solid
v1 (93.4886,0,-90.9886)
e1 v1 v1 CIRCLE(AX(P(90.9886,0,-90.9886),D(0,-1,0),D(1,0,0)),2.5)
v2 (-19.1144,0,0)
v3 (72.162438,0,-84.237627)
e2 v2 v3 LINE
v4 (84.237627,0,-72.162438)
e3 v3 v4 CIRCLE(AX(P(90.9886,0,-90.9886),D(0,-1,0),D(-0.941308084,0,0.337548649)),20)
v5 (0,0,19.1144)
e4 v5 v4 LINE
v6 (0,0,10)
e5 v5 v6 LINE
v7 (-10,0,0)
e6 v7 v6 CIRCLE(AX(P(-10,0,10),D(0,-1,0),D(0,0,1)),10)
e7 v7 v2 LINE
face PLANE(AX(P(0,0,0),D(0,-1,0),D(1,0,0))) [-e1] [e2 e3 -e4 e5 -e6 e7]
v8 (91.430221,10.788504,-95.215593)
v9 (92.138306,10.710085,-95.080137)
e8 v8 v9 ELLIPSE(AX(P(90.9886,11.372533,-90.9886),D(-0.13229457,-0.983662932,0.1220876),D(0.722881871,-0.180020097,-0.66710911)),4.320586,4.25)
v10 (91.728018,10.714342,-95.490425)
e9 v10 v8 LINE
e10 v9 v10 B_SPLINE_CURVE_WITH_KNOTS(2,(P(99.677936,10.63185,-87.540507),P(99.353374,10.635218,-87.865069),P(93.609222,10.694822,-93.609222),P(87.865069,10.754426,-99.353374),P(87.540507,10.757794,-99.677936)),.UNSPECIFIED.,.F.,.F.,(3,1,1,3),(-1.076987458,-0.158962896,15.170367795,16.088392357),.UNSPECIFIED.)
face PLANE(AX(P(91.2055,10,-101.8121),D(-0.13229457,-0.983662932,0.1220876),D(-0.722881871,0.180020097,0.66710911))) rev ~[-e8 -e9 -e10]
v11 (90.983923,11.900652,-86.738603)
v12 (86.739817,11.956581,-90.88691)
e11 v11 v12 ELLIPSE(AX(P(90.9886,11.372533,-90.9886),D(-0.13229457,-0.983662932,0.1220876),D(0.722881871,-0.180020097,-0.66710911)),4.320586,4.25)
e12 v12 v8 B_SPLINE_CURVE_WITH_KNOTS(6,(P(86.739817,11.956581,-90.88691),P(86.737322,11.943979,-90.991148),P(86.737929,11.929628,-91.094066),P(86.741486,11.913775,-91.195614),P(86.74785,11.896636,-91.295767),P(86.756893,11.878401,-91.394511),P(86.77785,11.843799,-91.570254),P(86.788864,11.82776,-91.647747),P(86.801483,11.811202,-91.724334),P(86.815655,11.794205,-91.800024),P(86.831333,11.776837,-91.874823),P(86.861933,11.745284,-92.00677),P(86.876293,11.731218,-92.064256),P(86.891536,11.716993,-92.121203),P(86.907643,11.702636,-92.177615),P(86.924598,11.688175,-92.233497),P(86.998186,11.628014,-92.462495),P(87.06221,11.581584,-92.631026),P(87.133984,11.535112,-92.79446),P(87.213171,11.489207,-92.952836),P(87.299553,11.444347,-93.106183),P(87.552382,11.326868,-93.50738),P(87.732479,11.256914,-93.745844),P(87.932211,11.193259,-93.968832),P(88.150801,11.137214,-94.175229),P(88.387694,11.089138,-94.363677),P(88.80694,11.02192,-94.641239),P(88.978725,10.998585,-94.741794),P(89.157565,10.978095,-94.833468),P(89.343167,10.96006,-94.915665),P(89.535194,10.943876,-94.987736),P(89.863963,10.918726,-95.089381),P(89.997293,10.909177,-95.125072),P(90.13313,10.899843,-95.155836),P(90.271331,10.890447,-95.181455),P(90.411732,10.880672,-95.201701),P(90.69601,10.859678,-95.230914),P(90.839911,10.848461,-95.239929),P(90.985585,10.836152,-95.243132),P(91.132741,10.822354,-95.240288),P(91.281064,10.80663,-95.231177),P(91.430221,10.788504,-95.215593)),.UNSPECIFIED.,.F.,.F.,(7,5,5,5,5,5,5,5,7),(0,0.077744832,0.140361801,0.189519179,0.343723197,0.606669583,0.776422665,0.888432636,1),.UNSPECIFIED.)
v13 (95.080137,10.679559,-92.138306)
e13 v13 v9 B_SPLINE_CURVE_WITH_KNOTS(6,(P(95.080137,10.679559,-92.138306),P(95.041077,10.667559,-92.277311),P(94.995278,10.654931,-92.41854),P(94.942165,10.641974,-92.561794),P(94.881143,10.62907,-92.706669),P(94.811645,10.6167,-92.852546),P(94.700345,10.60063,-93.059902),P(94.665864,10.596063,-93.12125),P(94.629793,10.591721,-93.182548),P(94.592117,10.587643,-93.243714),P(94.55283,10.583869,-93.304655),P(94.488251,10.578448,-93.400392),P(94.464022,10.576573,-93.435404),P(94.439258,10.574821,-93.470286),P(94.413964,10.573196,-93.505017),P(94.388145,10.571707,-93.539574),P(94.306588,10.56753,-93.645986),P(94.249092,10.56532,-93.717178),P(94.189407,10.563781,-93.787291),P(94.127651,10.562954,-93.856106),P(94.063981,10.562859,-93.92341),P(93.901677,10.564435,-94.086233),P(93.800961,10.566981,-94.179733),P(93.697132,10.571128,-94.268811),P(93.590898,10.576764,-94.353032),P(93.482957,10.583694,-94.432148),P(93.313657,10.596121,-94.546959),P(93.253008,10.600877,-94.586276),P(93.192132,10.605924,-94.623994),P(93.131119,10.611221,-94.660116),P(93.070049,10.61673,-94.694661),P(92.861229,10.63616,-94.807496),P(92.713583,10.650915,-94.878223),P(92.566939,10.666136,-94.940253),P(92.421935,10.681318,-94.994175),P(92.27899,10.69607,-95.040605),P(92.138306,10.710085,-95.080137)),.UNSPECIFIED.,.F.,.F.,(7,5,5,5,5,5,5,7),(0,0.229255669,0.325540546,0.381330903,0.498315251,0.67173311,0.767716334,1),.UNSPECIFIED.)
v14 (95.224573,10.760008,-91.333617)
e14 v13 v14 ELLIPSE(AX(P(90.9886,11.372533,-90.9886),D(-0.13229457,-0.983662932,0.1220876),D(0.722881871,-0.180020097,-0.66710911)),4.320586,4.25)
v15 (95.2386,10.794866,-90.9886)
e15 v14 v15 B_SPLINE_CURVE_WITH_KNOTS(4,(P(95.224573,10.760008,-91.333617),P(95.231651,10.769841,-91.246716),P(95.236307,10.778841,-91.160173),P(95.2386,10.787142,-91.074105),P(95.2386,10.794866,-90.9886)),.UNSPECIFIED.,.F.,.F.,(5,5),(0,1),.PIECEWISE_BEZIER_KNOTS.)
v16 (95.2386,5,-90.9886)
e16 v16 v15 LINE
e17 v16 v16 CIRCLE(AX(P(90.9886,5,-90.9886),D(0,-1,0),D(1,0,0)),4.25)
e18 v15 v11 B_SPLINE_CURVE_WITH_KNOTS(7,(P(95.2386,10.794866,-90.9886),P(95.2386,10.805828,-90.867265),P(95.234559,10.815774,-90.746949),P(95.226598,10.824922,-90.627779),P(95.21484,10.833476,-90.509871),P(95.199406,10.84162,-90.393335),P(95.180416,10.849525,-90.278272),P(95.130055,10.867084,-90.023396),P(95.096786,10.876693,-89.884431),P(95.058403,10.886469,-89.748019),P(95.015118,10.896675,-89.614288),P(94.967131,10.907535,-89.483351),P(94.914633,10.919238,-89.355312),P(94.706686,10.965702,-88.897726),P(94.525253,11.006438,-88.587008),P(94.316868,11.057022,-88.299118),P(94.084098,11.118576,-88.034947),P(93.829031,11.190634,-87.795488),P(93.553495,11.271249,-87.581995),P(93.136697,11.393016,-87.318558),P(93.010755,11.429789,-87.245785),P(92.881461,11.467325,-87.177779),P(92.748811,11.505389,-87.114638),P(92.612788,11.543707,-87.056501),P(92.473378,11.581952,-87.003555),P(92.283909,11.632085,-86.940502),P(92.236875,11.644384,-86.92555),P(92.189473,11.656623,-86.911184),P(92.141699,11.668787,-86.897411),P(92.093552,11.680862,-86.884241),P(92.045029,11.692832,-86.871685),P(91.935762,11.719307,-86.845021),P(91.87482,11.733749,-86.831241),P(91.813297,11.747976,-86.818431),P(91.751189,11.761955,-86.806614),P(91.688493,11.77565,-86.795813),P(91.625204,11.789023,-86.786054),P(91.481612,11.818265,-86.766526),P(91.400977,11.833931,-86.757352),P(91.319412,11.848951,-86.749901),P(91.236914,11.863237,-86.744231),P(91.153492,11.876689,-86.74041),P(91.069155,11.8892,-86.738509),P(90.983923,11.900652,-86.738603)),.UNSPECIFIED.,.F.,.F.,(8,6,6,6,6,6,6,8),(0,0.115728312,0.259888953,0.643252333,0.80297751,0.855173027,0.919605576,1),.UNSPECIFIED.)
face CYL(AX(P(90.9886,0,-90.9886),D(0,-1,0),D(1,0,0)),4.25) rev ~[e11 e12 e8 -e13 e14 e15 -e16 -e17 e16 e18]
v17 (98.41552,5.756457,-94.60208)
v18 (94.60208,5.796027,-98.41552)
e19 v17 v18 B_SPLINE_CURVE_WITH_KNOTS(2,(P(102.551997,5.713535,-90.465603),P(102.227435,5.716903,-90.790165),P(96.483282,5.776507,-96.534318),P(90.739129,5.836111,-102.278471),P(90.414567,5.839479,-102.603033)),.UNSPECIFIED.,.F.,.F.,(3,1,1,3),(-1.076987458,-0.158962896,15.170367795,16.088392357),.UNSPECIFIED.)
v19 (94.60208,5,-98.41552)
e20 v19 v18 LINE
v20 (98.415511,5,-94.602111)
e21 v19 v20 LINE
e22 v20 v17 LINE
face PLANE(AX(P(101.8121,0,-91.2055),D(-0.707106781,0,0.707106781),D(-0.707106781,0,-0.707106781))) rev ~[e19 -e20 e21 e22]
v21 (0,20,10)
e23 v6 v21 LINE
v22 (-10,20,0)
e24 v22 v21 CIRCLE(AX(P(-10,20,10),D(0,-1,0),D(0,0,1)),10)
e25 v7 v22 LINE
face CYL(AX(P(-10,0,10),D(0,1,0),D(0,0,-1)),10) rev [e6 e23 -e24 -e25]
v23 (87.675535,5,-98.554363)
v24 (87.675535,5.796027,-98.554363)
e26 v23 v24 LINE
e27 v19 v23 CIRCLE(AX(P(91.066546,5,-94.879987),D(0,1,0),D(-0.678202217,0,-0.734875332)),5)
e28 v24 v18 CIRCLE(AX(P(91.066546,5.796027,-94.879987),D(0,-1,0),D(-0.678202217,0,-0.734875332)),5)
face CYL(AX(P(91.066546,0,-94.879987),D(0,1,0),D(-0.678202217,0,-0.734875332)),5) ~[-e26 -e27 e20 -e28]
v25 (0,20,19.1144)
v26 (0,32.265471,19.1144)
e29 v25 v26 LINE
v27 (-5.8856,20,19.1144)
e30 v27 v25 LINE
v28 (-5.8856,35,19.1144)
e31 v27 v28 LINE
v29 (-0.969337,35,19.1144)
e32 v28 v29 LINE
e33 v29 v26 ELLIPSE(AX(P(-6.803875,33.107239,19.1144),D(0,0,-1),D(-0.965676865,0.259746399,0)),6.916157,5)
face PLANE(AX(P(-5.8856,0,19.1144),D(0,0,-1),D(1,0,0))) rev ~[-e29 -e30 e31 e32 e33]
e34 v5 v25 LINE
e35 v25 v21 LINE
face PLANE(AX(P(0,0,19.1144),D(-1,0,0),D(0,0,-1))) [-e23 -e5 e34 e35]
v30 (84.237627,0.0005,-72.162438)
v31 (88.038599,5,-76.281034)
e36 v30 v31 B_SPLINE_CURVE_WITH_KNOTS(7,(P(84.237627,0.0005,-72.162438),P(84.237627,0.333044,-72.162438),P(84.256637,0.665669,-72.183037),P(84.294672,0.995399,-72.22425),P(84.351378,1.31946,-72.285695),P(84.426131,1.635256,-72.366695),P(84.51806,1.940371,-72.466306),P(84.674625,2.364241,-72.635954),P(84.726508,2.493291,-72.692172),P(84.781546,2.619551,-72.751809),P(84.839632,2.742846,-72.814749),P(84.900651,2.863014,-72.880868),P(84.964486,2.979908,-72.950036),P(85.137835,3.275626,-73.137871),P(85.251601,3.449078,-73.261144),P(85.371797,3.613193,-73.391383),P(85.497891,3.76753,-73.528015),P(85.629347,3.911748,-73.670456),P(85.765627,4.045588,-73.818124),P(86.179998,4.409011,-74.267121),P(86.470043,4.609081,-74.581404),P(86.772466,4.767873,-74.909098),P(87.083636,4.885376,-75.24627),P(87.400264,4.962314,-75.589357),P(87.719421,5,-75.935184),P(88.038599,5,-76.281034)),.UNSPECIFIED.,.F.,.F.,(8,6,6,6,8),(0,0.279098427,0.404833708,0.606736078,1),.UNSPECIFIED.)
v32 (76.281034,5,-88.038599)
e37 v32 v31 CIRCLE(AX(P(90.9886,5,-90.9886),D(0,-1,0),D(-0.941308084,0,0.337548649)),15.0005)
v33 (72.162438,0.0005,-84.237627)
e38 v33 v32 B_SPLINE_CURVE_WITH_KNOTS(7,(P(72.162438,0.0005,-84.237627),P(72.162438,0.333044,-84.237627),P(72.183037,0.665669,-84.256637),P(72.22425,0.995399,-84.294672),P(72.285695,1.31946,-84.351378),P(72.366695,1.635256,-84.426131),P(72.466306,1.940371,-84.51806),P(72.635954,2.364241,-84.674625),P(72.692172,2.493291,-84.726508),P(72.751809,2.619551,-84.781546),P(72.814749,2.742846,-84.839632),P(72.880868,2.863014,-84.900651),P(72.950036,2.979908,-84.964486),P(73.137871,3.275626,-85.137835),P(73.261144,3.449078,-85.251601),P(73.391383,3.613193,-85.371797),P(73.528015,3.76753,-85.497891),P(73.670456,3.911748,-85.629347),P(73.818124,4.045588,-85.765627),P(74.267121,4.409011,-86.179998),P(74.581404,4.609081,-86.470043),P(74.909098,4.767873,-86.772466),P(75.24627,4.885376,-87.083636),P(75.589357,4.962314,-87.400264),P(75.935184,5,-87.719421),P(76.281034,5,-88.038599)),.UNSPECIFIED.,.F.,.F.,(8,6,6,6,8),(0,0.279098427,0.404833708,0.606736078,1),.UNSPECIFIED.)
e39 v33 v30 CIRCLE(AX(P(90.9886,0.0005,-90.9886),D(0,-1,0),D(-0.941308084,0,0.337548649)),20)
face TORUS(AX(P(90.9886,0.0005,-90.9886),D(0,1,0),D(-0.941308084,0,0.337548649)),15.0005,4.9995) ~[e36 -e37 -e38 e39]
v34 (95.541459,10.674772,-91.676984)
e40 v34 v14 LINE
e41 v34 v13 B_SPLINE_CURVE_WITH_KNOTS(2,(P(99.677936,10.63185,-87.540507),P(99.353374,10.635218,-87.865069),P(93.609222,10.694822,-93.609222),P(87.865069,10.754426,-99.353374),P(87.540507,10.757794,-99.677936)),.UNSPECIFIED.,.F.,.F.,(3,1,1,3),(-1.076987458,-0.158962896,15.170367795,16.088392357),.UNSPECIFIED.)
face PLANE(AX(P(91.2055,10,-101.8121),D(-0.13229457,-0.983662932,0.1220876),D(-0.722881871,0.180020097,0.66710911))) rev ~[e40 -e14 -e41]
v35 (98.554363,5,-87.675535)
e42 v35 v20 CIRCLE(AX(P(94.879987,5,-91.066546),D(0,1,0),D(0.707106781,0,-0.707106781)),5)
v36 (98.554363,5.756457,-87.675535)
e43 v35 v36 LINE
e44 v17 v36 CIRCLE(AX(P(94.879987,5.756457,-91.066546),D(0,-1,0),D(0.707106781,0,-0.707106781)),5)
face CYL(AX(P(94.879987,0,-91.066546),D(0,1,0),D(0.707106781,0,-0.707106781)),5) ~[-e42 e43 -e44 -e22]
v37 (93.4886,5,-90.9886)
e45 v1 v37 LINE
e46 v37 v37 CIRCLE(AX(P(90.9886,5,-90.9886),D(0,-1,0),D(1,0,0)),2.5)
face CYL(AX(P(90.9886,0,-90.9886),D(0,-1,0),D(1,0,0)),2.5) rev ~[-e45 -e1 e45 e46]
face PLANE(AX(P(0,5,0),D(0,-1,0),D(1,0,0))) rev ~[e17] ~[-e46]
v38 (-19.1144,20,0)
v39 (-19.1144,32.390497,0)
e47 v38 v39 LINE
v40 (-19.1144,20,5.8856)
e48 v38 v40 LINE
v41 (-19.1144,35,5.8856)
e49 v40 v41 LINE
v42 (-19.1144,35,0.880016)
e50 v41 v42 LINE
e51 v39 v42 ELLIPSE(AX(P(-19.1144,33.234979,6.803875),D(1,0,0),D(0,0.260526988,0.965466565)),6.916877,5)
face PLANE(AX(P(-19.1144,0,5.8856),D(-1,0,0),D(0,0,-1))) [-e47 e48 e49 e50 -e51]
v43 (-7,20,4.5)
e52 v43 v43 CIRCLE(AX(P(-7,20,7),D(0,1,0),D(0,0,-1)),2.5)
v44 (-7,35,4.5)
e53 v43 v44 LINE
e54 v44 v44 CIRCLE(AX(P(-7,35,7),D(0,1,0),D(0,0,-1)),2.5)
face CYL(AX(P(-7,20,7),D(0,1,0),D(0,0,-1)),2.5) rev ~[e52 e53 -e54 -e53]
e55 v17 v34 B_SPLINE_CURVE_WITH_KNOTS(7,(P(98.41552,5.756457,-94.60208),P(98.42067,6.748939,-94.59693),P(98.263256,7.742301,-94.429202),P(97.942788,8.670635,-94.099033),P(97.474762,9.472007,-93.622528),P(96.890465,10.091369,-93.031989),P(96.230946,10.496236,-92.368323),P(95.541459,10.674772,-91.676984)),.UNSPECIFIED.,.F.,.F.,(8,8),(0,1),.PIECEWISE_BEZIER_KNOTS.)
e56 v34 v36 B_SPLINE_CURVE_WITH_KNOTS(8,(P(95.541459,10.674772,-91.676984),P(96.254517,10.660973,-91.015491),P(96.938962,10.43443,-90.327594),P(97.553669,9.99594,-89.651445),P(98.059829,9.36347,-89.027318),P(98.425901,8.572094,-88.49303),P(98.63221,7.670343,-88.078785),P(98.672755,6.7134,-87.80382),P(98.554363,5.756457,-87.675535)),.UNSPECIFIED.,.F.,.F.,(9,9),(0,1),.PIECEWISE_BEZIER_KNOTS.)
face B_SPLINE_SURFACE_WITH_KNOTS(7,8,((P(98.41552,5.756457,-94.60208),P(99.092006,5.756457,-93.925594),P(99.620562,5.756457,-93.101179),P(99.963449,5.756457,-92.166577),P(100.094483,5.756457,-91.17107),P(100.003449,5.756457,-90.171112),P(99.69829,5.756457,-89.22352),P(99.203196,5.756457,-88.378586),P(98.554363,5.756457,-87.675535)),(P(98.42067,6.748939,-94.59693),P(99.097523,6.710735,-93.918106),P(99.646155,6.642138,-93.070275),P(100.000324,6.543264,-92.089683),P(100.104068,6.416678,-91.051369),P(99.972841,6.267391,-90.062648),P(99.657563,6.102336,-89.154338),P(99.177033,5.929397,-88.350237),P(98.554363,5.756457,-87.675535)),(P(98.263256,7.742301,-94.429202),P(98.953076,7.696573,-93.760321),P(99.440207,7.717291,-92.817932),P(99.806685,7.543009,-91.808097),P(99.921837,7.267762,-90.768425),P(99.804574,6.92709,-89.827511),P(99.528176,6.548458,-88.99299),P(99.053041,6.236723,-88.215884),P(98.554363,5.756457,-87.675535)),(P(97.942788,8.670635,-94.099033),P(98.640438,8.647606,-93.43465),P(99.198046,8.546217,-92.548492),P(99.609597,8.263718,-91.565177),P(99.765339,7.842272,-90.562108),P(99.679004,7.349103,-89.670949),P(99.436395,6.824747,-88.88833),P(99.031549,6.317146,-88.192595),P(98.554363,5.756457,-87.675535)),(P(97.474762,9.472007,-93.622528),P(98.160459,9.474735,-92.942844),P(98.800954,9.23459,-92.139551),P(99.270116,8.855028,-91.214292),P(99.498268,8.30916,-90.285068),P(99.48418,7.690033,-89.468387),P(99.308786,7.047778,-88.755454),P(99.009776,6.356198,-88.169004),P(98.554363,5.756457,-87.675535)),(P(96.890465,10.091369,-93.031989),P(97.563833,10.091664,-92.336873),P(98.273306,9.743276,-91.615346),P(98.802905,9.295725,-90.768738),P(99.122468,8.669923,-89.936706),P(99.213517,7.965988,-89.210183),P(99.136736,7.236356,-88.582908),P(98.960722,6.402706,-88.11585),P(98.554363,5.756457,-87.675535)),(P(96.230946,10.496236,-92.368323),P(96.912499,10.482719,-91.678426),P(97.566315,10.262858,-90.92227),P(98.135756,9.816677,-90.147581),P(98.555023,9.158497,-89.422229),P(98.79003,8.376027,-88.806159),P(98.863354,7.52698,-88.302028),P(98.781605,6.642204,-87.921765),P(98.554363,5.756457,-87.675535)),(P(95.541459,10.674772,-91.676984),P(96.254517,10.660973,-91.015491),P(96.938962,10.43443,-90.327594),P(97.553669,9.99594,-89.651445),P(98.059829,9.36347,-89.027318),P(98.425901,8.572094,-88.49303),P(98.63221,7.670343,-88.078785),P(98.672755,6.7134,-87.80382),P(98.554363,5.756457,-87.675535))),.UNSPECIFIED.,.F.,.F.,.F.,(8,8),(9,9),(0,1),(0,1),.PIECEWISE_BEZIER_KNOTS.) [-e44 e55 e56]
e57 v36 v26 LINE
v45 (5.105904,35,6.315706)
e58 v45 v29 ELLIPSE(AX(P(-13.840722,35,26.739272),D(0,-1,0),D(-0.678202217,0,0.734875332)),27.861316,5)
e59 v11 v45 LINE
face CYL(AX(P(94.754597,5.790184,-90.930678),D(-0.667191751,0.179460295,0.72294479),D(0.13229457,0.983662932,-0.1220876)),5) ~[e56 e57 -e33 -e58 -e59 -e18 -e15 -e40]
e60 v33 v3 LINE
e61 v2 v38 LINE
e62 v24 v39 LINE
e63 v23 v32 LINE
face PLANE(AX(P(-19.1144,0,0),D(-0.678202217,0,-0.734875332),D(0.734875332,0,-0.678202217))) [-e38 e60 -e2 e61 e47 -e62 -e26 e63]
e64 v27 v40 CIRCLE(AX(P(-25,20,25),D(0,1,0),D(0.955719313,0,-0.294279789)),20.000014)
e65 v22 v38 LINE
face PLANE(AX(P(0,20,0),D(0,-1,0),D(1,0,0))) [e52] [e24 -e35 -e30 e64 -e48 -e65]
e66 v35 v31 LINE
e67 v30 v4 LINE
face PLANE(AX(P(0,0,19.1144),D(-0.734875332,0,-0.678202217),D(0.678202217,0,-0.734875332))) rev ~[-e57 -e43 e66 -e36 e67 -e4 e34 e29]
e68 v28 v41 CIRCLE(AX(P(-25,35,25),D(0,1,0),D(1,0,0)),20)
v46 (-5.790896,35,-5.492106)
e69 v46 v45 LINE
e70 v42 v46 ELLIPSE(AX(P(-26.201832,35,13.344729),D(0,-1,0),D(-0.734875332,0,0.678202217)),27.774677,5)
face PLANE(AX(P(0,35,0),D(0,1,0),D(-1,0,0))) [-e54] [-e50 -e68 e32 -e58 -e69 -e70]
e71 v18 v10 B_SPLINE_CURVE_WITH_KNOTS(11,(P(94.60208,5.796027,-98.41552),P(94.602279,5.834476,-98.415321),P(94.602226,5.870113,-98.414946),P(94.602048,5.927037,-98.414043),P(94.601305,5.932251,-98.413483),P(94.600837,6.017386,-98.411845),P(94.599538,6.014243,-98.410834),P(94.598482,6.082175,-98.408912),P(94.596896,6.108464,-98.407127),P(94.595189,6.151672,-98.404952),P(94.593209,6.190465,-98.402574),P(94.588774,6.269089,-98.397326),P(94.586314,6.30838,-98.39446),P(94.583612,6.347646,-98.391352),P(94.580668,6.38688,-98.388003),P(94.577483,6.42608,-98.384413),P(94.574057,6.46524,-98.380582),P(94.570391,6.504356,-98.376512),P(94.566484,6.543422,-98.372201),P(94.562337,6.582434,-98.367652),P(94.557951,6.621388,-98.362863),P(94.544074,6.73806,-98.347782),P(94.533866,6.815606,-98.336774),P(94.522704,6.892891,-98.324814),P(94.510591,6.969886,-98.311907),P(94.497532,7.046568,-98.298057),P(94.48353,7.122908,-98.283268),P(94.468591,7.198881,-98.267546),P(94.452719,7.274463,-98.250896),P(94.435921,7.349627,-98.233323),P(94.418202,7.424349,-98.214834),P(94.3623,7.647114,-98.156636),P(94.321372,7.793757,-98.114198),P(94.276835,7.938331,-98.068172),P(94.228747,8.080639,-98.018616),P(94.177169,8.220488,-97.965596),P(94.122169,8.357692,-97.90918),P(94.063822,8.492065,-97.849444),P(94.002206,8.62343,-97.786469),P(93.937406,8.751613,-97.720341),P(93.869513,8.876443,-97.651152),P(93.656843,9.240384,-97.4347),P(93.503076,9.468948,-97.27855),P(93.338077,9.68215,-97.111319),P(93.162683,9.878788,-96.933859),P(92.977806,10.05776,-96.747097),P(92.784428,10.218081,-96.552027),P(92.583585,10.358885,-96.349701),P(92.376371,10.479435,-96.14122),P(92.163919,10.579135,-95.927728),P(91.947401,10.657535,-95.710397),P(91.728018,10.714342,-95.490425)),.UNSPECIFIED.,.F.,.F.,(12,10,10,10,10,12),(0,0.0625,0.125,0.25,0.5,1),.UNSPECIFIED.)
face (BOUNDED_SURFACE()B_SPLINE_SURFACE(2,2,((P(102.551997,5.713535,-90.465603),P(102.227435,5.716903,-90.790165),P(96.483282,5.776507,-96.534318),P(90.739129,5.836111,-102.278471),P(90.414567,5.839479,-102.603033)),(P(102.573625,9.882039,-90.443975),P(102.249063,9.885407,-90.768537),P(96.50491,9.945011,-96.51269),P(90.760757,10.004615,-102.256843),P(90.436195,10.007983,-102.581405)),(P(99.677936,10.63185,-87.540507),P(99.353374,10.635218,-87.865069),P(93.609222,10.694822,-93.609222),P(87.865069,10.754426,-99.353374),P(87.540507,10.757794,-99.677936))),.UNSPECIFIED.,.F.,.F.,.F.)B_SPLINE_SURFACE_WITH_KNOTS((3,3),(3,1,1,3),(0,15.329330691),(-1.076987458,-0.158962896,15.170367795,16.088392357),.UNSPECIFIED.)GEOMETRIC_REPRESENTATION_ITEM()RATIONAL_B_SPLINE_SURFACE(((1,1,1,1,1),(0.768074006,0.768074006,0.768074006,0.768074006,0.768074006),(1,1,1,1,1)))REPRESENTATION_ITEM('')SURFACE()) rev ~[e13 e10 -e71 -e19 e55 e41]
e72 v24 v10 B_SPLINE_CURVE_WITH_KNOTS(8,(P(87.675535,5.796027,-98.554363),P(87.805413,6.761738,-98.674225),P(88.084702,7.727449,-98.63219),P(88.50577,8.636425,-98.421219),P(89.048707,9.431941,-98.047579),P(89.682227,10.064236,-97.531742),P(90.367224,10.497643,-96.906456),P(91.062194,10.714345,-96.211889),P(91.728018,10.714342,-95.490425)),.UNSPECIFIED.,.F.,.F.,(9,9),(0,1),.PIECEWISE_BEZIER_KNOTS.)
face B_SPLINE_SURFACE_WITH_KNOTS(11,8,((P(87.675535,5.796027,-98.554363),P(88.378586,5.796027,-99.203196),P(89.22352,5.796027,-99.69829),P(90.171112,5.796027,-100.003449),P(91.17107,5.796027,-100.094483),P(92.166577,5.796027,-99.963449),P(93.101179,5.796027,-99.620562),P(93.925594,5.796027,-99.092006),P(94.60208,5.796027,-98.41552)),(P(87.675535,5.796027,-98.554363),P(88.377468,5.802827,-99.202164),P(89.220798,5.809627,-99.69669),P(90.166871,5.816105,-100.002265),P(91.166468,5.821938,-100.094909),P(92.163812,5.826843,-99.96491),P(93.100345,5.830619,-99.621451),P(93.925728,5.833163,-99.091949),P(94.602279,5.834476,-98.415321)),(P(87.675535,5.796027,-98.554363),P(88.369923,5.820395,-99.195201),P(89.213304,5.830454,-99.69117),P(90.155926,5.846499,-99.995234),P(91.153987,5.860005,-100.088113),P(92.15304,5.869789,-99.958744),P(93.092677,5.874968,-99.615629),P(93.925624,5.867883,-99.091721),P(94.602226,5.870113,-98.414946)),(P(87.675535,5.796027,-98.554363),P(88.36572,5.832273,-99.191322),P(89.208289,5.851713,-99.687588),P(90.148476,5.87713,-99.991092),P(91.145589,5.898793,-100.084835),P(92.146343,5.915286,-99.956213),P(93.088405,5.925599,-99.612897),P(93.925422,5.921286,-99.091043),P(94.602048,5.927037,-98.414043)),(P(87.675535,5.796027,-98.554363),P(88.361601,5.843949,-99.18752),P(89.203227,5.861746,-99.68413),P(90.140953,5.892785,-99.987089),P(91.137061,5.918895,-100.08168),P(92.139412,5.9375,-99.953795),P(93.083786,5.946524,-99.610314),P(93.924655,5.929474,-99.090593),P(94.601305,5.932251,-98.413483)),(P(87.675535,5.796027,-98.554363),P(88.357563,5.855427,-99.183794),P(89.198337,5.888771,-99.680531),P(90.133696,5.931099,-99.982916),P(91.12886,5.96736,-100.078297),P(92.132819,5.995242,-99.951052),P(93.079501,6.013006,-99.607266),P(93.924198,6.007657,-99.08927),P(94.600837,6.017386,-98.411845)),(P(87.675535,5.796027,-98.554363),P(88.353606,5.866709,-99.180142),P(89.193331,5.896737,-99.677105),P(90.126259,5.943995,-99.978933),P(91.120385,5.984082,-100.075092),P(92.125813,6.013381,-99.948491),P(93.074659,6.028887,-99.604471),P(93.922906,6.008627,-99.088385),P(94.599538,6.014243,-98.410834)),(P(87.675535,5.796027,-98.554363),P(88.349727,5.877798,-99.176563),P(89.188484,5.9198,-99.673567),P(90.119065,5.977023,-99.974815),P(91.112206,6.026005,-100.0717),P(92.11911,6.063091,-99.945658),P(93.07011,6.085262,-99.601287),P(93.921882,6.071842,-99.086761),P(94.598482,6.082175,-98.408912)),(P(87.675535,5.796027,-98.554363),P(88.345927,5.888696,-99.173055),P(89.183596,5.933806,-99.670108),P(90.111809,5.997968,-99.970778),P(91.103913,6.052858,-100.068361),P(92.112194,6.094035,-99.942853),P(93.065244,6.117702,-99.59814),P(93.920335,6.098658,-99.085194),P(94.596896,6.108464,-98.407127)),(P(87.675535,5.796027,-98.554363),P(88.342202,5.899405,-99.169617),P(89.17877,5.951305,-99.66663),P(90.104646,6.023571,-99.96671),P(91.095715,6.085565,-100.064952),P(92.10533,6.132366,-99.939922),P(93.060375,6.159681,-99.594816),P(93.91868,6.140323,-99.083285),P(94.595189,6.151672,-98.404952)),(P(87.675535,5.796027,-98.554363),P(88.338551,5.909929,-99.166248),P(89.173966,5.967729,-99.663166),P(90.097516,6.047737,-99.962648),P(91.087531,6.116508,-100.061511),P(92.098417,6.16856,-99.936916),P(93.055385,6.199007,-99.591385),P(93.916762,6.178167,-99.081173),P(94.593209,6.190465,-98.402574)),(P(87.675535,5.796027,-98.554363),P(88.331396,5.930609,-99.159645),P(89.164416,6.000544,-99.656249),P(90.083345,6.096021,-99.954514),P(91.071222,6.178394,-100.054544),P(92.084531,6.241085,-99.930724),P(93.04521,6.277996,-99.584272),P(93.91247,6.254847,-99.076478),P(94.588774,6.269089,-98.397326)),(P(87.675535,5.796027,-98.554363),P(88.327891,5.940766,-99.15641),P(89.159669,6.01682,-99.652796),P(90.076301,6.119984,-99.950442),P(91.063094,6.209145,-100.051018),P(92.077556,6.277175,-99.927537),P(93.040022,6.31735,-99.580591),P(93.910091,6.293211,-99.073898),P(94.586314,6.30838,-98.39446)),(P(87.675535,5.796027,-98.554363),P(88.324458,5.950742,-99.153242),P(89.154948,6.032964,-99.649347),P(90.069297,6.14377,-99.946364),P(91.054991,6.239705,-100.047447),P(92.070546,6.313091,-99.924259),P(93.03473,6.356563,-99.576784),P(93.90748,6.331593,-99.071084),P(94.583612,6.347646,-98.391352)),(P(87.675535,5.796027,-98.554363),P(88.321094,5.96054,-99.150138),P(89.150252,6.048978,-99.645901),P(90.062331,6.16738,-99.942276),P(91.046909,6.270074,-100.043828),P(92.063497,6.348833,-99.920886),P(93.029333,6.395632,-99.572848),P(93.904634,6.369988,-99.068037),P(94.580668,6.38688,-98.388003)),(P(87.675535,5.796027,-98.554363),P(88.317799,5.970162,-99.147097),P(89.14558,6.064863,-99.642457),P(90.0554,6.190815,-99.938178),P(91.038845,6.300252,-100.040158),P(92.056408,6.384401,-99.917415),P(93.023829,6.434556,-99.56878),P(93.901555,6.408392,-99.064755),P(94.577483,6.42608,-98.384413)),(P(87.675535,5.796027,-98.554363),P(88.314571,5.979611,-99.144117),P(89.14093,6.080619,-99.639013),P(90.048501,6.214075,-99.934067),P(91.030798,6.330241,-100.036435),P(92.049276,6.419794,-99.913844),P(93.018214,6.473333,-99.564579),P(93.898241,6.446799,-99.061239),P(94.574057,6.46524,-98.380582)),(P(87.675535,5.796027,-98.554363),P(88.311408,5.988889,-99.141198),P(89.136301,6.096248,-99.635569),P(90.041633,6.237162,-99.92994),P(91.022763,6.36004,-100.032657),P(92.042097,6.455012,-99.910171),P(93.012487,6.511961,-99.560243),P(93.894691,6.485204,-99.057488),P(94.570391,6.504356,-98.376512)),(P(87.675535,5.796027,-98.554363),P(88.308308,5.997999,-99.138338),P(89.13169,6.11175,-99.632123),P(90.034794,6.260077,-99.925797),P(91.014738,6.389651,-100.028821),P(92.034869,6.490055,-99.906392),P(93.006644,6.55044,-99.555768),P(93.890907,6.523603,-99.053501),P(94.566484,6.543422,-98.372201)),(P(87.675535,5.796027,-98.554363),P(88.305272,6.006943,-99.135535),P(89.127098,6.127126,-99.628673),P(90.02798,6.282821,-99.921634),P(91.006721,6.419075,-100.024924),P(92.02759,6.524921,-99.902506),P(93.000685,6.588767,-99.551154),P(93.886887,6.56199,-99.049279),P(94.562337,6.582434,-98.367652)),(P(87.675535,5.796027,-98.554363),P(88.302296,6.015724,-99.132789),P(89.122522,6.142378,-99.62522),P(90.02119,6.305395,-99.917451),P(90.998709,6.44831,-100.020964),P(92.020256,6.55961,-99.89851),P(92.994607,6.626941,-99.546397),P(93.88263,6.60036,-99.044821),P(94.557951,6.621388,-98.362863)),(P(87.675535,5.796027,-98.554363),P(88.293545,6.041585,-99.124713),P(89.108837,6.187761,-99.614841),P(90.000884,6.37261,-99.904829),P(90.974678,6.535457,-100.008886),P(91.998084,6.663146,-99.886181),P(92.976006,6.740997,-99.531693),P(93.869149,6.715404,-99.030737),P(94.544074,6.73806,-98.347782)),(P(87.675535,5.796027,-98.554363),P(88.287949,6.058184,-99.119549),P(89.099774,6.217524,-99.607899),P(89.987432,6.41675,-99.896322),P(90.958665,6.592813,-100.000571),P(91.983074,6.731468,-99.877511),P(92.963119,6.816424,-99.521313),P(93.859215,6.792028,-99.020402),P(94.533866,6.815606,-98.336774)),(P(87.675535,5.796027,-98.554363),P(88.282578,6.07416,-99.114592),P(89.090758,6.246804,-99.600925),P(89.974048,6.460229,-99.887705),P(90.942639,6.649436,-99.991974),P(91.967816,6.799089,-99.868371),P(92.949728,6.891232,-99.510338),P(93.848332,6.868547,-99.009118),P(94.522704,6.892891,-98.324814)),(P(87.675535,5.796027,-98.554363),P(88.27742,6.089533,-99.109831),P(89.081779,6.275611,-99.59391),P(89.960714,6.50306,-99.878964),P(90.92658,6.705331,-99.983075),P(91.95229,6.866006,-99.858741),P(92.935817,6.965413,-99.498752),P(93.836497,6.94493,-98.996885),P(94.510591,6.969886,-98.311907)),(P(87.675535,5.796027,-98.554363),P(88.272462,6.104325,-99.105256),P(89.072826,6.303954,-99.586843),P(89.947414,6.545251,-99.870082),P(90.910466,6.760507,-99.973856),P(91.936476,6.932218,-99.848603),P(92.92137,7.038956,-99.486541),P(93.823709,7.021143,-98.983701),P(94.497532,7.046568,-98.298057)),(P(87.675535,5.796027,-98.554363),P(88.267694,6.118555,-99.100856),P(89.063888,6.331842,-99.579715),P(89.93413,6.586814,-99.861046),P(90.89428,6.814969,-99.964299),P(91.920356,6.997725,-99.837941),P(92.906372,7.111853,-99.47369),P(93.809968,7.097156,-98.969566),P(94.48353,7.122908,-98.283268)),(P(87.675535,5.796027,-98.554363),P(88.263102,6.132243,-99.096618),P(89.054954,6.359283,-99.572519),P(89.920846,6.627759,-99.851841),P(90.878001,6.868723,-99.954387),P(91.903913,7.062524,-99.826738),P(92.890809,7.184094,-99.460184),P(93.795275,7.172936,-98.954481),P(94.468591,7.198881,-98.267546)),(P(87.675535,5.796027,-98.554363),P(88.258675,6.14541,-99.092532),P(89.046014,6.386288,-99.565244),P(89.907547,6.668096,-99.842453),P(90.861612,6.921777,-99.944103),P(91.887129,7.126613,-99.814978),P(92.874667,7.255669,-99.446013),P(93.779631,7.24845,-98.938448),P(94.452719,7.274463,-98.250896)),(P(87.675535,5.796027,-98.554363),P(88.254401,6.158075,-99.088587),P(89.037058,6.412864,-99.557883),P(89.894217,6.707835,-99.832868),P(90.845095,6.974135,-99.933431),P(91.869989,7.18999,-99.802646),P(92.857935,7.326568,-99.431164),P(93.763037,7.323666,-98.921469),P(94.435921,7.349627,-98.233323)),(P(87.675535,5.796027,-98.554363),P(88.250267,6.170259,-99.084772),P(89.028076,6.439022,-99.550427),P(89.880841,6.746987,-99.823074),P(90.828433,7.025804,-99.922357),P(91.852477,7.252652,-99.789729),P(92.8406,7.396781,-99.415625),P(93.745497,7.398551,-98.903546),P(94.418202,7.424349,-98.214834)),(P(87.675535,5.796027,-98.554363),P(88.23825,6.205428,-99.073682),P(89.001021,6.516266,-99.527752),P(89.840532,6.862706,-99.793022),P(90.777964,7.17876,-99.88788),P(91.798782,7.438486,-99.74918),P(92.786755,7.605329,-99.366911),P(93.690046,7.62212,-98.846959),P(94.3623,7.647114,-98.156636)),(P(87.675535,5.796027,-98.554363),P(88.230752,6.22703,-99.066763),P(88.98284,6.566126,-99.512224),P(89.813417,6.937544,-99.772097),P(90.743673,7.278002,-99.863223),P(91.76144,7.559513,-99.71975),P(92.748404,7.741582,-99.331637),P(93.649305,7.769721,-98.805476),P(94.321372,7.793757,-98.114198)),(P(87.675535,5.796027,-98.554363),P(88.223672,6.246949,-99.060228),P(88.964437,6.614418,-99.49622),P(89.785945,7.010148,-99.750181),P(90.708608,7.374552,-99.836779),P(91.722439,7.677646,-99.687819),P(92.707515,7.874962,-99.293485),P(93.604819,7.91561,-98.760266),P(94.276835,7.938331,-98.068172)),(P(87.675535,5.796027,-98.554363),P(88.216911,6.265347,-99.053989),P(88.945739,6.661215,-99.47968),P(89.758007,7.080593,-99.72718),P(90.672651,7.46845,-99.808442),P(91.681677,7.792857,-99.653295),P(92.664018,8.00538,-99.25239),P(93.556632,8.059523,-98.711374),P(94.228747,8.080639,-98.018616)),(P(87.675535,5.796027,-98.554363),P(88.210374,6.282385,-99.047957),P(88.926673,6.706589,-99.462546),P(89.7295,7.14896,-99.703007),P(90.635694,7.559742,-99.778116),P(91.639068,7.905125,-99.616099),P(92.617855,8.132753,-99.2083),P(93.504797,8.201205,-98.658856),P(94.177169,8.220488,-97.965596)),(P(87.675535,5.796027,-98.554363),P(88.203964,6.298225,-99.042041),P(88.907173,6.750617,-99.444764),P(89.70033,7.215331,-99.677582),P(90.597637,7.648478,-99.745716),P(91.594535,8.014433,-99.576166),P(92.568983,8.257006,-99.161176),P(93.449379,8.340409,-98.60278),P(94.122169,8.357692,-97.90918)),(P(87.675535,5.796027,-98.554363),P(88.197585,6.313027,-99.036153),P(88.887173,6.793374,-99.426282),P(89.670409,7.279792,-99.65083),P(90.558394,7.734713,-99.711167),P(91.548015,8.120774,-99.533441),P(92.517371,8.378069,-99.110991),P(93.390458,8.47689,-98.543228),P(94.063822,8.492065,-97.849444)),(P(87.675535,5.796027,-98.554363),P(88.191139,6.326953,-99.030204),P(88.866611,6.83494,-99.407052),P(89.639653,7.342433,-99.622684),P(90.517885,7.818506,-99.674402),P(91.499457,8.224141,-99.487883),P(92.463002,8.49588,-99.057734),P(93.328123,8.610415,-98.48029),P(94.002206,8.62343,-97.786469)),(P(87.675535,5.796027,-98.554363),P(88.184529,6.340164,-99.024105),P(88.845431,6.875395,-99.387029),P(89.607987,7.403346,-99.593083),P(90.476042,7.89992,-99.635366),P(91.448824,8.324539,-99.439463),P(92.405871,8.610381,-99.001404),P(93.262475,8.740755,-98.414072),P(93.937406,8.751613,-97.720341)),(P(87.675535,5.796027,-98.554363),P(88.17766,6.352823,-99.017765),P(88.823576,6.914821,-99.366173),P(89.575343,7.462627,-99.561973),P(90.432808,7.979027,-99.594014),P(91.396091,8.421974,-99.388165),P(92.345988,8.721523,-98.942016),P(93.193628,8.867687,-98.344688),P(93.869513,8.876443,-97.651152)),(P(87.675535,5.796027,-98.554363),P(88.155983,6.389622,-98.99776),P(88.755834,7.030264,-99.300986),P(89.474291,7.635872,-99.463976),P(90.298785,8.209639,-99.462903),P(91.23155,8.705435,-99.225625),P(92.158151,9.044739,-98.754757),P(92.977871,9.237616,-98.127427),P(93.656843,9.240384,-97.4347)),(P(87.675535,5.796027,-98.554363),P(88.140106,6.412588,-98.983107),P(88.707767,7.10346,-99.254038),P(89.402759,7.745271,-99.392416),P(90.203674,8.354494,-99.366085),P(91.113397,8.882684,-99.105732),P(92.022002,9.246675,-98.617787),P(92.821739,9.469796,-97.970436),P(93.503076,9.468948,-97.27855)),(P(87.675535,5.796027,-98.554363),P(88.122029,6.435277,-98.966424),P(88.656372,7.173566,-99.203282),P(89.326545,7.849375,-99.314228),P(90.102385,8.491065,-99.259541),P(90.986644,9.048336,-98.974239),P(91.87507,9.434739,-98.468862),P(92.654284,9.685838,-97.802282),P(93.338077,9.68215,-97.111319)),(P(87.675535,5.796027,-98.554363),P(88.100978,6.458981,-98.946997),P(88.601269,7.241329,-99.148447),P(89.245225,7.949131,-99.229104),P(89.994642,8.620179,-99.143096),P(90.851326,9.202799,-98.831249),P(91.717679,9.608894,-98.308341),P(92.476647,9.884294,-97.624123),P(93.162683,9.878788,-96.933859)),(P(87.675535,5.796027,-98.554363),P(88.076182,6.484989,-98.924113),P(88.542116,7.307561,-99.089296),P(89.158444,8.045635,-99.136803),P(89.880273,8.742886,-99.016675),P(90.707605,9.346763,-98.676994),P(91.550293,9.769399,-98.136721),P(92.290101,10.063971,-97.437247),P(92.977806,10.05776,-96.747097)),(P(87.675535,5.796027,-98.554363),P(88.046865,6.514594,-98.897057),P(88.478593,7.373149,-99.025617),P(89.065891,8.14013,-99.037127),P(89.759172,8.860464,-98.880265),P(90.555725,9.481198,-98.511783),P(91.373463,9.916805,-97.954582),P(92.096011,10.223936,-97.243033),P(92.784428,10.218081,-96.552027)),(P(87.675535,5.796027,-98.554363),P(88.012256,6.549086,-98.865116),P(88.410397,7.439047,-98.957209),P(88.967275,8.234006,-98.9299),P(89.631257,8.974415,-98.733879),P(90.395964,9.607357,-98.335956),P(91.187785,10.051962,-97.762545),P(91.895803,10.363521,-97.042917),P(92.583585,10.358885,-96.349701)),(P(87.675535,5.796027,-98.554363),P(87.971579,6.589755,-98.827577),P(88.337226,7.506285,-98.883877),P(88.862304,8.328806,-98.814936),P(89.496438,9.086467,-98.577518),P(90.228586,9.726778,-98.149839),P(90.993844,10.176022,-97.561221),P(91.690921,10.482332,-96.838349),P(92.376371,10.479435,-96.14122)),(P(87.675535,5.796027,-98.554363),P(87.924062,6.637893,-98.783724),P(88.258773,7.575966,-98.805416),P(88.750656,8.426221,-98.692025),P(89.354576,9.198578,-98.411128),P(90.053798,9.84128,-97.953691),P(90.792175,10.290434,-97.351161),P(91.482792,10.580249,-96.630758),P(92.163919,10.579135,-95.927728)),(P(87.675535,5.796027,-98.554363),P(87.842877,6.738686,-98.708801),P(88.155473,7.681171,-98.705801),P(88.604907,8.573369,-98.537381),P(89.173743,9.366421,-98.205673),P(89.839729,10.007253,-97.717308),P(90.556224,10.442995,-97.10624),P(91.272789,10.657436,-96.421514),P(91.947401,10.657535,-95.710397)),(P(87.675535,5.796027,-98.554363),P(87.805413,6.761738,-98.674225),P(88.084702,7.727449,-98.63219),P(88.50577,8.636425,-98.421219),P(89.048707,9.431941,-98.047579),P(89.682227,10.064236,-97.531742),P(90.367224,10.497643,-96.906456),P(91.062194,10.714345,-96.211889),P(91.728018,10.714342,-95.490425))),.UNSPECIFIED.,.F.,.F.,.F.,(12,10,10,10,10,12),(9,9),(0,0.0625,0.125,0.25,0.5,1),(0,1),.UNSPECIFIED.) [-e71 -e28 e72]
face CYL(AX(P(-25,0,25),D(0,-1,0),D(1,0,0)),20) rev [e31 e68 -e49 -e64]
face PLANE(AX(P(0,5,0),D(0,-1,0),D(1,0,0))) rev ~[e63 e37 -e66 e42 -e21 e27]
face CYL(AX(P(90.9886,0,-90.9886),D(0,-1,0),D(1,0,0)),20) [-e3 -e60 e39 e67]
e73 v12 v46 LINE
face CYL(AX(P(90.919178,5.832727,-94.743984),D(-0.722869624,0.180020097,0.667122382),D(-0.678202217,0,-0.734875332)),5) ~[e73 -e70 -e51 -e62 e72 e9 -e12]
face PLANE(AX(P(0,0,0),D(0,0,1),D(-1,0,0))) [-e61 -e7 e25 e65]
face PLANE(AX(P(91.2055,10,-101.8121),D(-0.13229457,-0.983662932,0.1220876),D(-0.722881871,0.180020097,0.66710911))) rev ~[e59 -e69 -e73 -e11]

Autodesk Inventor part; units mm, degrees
ref_plane "YZ Plane" through (0, 0, 0) normal (1, 0, 0) x (0, 1, 0)
ref_plane "XZ Plane" through (0, 0, 0) normal (0, 1, 0) x (-1, 0, 0)
ref_plane "XY Plane" through (0, 0, 0) normal (0, 0, 1) x (1, 0, 0)
sketch "Sketch1" plane through (0, 0, 0) normal (0, 1, 0) x (-1, 0, 0)
  arc A0 (5, 25) -> (25, 5) centre (25, 25) ccw
  circle A1 centre (25, 25) radius 20
  arc A2 (0, 10) -> (10, 0) centre (10, 10) ccw
  circle A3 centre (10, 10) radius 10
  line L0 (5.8856, 19.1144) -> (0, 19.1144)
  line L1 (0, 90) -> (0, 10)
  line L2 (19.1144, 5.8856) -> (19.1144, 0)
  line L3 (10, 0) -> (190, 0)
  line L4 (0, 19.1144) -> (19.1144, 19.1144)
  line L5 (19.1144, 19.1144) -> (19.1144, 0)
  line L6 (19.1144, 0) -> (0, 0)
  line L7 (0, 0) -> (0, 19.1144)
  arc A4 (45, 75) -> (5, 75) centre (25, 75) ccw
  circle A5 centre (25, 75) radius 20
  line L8 (25, 75) -> (25, 25)
  line L9 (25, 75) -> (35, 75)
  line L10 (35, 75) -> (35, 50)
  line L11 (35, 50) -> (25, 50)
  line L12 (25, 50) -> (25, 75)
  circle A6 centre (25, 75) radius 20
  line L13 (19.1144, 80.8856) -> (19.1144, 100)
  line L14 (0, 80.8856) -> (19.1144, 80.8856)
  line L15 (0, 100) -> (0, 80.8856)
  line L16 (19.1144, 100) -> (0, 100)
  circle A7 centre (10, 90) radius 10
  line L17 (19.1144, 0) -> (169.1144, 0) construction
  line L18 (-101.8121, -91.2055) -> (-91.2055, -101.8121)
  line L19 (0, 0) -> (-96.5088, -96.5088)
  line L20 (-96.5088, -96.5088) -> (-91.2055, -101.8121)
  line L21 (-91.2055, -101.8121) -> (-101.8121, -91.2055)
  line L22 (-91.2055, -101.8121) -> (10.6066, 0)
  line L23 (-101.8121, -91.2055) -> (0, 10.6066)
  line L24 (0, 19.1144) -> (-101.8121, -91.2055)
  line L25 (19.1144, 0) -> (-91.2055, -101.8121)
  point P0 (19.1144, 5.8856)
  point P1 (5.8856, 19.1144)
  point P2 (10, 100)
  point P3 (5.8856, 80.8856)
  point P4 (19.1144, 94.1144)
  point P5 (5.8856, 19.1144)
  point P6 (19.1144, 5.8856)
  dimension "d0" = 10
  dimension "d1" = 25
extrude "Extrusion1" add sketch "Sketch1" along normal blind 35 contours A0 A3 A2 | A3 L1 L0 | L2 L3 A3 | L7 L19 L18 L23 L1 | A2 L6 L7 | L1 L23 L24 | L3 L22 L18 L19 L6 | L25 L22 L3
sketch "Sketch3" plane through (0, 0, 0) normal (0, -1, 0) x (1, 0, 0)
  arc A0 (-19.1144, 5.8856) -> (-5.8856, 19.1144) centre (-25, 25) ccw projected
  circle A1 centre (-25, 25) radius 20
  line L0 (0, 0) -> (-19.1144, 0)
  line L1 (-19.1144, 0) -> (-19.1144, 19.1144)
  line L2 (-19.1144, 19.1144) -> (0, 19.1144)
  line L3 (0, 19.1144) -> (0, 0)
  line L4 (91.2055, -101.8121) -> (-19.1144, 0) projected
  line L5 (-5.8856, 19.1144) -> (0, 19.1144) projected
  line L6 (-19.1144, 0) -> (0, 19.1144)
  line L7 (-19.1144, 19.1144) -> (0, 0)
  point P0 (-5.8856, 19.1144)
  point P1 (-19.1144, 5.8856)
extrude "Extrusion4" cut sketch "Sketch3" against normal blind 20 contours A0 L7 L6 L1 | A0 L2 L6 L7 | L6 L7 L0 | L6 L3 L7
fillet "Fillet2" radius 10 1 edges at (0, 10, 0)
sketch "Sketch6" plane through (91.2055, 0, -101.8121) normal (-0.6782, 0, -0.7349) x (-0.7349, 0, 0.6782)
  line L0 (150.1206, 20) -> (150.1206, 35) projected
  line L1 (150.1206, 35) -> (136.6046, 35)
  line L2 (0, 35) -> (150.1206, 35) projected
  line L3 (143.4227, 0) -> (150.1206, 0) projected
  line L4 (0, 35) -> (150.1206, 35)
  line L5 (150.1206, 35) -> (150.1206, 0)
  line L6 (150.1206, 0) -> (0, 0)
  line L7 (0, 0) -> (0, 35)
  line L8 (0, 0) -> (150.1206, 0) projected
  line L9 (0, 0) -> (0, 10)
  line L10 (0, 0) -> (10, 0) construction
  line L11 (0, 10) -> (136.6046, 35)
  line L12 (0, 10) -> (-15.7766, 7.1127)
  line L13 (-15.7766, 7.1127) -> (-15.4206, 35)
  line L14 (0, 0) -> (0, 35) projected
  line L15 (-15.4206, 35) -> (0, 35)
  point P0 (136.0739, 0)
  dimension "d22" = 13.516
  dimension "d23" = 10
  dimension "d24" = 90
extrude "Extrusion5" cut sketch "Sketch6" against normal through all contours L11 L7 L2 | L7 L12 L13 L15
sketch "Sketch7" plane through (0, 20, 0) normal (0, -1, 0) x (1, 0, 0)
  line L0 (0, 0) -> (200, 0)
  line L1 (200, 0) -> (200, 100)
  line L2 (200, 100) -> (0, 100)
  line L3 (0, 100) -> (0, 0)
  line L4 (0, 0) -> (7, 0)
  line L5 (7, 0) -> (7, 7)
  line L6 (7, 7) -> (0, 7)
  line L7 (0, 7) -> (0, 0)
  line L8 (200, 100) -> (193, 100)
  line L9 (193, 100) -> (193, 93)
  line L10 (193, 93) -> (200, 93)
  line L11 (200, 93) -> (200, 100)
  line L12 (7, 7) -> (193, 7)
  line L13 (193, 7) -> (193, 93)
  line L14 (193, 93) -> (7, 93)
  line L15 (7, 93) -> (7, 7)
  line L16 (0, 0) -> (-200, 0)
  line L17 (-200, 0) -> (-200, 100)
  line L18 (-200, 100) -> (0, 100)
  line L19 (0, 0) -> (-7, 0)
  line L20 (-7, 0) -> (-7, 7)
  line L21 (-7, 7) -> (0, 7)
  line L22 (-200, 100) -> (-193, 100)
  line L23 (-193, 100) -> (-193, 93)
  line L24 (-193, 93) -> (-200, 93)
  line L25 (-200, 93) -> (-200, 100)
  line L26 (-7, 7) -> (-193, 7)
  line L27 (-193, 7) -> (-193, 93)
  line L28 (-193, 93) -> (-7, 93)
  line L29 (-7, 93) -> (-7, 7)
  dimension "d27" = 200
  dimension "d28" = 100
  dimension "d29" = 7
  dimension "d30" = 7
  dimension "d31" = 7
  dimension "d32" = 7
hole "Hole1" at (-7, 20, 7) direction (0, 1, 0) diameter 5 end through all
fillet "Fillet3" radius 5 1 edges at (96.5088, 9.945, -96.5088)
fillet "Fillet4" radius 5 4 edges at (90.3527, 9.0335, -101.025) (91.2055, 2.9156, -101.8121) (101.025, 8.9228, -90.3527) (101.8121, 2.8606, -91.2055)
sketch "Sketch8" plane through (0, 0, 0) normal (0, -1, 0) x (1, 0, 0)
  line L0 (98.4155, -94.6021) -> (94.6021, -98.4155) projected
  line L1 (98.4155, -94.6021) -> (103.9755, -89.0422)
  line L2 (0, 19.1144) -> (98.5544, -87.6756) projected
  line L3 (98.5544, -87.6756) -> (108.5515, -97.6726)
  ellipse E0 centre (94.88, -91.0666) end of major axis (91.3445, -87.531) minor radius 0.0367 (98.4155, -94.6021) -> (95.5415, -91.677) ccw projected
  line L4 (98.4155, -94.6021) -> (90.1473, -102.8703)
  line L5 (87.6756, -98.5544) -> (-19.1144, 0) projected
  line L6 (87.6756, -98.5544) -> (92.1576, -103.0365)
  circle A0 centre (90.9886, -90.9886) radius 7.8068
  circle A1 centre (90.9886, -90.9886) radius 20
  point P0 (0, 0)
  point P1 (98.0828, -94.2471)
  point P2 (96.5088, -96.5088)
  dimension "d42" = 40
extrude "Extrusion6" add sketch "Sketch8" against normal blind 5 contours L1 L3 L2 A1 L5 L6 L4 L0 | E0 A0 L2 L3 L1 | L0 L4 L6 L5 A0 | A0 | L5 A1 L2 A0
fillet "Fillet5" radius 5 1 edges at (105.1307, 5, -105.1307)
sketch "Sketch9" plane through (0, 0, 0) normal (0, -1, 0) x (1, 0, 0)
  arc A0 (72.1624, -84.2376) -> (84.2376, -72.1624) centre (90.9886, -90.9886) ccw projected
  circle A1 centre (90.9886, -90.9886) radius 4.25
  point P0 (0, 0)
  dimension "d46" = 8.5
extrude "Extrusion7" cut sketch "Sketch9" against normal through all
sketch "Sketch10" plane through (0, 0, 0) normal (0, -1, 0) x (1, 0, 0)
  circle A0 centre (90.9886, -90.9886) radius 4.25 projected
  circle A1 centre (90.9886, -90.9886) radius 4.25
  circle A2 centre (90.9886, -90.9886) radius 2.5
  point P0 (0, 0)
  dimension "d49" = 5
extrude "Extrusion8" add sketch "Sketch10" against normal blind 5
properties part number "Noga"
